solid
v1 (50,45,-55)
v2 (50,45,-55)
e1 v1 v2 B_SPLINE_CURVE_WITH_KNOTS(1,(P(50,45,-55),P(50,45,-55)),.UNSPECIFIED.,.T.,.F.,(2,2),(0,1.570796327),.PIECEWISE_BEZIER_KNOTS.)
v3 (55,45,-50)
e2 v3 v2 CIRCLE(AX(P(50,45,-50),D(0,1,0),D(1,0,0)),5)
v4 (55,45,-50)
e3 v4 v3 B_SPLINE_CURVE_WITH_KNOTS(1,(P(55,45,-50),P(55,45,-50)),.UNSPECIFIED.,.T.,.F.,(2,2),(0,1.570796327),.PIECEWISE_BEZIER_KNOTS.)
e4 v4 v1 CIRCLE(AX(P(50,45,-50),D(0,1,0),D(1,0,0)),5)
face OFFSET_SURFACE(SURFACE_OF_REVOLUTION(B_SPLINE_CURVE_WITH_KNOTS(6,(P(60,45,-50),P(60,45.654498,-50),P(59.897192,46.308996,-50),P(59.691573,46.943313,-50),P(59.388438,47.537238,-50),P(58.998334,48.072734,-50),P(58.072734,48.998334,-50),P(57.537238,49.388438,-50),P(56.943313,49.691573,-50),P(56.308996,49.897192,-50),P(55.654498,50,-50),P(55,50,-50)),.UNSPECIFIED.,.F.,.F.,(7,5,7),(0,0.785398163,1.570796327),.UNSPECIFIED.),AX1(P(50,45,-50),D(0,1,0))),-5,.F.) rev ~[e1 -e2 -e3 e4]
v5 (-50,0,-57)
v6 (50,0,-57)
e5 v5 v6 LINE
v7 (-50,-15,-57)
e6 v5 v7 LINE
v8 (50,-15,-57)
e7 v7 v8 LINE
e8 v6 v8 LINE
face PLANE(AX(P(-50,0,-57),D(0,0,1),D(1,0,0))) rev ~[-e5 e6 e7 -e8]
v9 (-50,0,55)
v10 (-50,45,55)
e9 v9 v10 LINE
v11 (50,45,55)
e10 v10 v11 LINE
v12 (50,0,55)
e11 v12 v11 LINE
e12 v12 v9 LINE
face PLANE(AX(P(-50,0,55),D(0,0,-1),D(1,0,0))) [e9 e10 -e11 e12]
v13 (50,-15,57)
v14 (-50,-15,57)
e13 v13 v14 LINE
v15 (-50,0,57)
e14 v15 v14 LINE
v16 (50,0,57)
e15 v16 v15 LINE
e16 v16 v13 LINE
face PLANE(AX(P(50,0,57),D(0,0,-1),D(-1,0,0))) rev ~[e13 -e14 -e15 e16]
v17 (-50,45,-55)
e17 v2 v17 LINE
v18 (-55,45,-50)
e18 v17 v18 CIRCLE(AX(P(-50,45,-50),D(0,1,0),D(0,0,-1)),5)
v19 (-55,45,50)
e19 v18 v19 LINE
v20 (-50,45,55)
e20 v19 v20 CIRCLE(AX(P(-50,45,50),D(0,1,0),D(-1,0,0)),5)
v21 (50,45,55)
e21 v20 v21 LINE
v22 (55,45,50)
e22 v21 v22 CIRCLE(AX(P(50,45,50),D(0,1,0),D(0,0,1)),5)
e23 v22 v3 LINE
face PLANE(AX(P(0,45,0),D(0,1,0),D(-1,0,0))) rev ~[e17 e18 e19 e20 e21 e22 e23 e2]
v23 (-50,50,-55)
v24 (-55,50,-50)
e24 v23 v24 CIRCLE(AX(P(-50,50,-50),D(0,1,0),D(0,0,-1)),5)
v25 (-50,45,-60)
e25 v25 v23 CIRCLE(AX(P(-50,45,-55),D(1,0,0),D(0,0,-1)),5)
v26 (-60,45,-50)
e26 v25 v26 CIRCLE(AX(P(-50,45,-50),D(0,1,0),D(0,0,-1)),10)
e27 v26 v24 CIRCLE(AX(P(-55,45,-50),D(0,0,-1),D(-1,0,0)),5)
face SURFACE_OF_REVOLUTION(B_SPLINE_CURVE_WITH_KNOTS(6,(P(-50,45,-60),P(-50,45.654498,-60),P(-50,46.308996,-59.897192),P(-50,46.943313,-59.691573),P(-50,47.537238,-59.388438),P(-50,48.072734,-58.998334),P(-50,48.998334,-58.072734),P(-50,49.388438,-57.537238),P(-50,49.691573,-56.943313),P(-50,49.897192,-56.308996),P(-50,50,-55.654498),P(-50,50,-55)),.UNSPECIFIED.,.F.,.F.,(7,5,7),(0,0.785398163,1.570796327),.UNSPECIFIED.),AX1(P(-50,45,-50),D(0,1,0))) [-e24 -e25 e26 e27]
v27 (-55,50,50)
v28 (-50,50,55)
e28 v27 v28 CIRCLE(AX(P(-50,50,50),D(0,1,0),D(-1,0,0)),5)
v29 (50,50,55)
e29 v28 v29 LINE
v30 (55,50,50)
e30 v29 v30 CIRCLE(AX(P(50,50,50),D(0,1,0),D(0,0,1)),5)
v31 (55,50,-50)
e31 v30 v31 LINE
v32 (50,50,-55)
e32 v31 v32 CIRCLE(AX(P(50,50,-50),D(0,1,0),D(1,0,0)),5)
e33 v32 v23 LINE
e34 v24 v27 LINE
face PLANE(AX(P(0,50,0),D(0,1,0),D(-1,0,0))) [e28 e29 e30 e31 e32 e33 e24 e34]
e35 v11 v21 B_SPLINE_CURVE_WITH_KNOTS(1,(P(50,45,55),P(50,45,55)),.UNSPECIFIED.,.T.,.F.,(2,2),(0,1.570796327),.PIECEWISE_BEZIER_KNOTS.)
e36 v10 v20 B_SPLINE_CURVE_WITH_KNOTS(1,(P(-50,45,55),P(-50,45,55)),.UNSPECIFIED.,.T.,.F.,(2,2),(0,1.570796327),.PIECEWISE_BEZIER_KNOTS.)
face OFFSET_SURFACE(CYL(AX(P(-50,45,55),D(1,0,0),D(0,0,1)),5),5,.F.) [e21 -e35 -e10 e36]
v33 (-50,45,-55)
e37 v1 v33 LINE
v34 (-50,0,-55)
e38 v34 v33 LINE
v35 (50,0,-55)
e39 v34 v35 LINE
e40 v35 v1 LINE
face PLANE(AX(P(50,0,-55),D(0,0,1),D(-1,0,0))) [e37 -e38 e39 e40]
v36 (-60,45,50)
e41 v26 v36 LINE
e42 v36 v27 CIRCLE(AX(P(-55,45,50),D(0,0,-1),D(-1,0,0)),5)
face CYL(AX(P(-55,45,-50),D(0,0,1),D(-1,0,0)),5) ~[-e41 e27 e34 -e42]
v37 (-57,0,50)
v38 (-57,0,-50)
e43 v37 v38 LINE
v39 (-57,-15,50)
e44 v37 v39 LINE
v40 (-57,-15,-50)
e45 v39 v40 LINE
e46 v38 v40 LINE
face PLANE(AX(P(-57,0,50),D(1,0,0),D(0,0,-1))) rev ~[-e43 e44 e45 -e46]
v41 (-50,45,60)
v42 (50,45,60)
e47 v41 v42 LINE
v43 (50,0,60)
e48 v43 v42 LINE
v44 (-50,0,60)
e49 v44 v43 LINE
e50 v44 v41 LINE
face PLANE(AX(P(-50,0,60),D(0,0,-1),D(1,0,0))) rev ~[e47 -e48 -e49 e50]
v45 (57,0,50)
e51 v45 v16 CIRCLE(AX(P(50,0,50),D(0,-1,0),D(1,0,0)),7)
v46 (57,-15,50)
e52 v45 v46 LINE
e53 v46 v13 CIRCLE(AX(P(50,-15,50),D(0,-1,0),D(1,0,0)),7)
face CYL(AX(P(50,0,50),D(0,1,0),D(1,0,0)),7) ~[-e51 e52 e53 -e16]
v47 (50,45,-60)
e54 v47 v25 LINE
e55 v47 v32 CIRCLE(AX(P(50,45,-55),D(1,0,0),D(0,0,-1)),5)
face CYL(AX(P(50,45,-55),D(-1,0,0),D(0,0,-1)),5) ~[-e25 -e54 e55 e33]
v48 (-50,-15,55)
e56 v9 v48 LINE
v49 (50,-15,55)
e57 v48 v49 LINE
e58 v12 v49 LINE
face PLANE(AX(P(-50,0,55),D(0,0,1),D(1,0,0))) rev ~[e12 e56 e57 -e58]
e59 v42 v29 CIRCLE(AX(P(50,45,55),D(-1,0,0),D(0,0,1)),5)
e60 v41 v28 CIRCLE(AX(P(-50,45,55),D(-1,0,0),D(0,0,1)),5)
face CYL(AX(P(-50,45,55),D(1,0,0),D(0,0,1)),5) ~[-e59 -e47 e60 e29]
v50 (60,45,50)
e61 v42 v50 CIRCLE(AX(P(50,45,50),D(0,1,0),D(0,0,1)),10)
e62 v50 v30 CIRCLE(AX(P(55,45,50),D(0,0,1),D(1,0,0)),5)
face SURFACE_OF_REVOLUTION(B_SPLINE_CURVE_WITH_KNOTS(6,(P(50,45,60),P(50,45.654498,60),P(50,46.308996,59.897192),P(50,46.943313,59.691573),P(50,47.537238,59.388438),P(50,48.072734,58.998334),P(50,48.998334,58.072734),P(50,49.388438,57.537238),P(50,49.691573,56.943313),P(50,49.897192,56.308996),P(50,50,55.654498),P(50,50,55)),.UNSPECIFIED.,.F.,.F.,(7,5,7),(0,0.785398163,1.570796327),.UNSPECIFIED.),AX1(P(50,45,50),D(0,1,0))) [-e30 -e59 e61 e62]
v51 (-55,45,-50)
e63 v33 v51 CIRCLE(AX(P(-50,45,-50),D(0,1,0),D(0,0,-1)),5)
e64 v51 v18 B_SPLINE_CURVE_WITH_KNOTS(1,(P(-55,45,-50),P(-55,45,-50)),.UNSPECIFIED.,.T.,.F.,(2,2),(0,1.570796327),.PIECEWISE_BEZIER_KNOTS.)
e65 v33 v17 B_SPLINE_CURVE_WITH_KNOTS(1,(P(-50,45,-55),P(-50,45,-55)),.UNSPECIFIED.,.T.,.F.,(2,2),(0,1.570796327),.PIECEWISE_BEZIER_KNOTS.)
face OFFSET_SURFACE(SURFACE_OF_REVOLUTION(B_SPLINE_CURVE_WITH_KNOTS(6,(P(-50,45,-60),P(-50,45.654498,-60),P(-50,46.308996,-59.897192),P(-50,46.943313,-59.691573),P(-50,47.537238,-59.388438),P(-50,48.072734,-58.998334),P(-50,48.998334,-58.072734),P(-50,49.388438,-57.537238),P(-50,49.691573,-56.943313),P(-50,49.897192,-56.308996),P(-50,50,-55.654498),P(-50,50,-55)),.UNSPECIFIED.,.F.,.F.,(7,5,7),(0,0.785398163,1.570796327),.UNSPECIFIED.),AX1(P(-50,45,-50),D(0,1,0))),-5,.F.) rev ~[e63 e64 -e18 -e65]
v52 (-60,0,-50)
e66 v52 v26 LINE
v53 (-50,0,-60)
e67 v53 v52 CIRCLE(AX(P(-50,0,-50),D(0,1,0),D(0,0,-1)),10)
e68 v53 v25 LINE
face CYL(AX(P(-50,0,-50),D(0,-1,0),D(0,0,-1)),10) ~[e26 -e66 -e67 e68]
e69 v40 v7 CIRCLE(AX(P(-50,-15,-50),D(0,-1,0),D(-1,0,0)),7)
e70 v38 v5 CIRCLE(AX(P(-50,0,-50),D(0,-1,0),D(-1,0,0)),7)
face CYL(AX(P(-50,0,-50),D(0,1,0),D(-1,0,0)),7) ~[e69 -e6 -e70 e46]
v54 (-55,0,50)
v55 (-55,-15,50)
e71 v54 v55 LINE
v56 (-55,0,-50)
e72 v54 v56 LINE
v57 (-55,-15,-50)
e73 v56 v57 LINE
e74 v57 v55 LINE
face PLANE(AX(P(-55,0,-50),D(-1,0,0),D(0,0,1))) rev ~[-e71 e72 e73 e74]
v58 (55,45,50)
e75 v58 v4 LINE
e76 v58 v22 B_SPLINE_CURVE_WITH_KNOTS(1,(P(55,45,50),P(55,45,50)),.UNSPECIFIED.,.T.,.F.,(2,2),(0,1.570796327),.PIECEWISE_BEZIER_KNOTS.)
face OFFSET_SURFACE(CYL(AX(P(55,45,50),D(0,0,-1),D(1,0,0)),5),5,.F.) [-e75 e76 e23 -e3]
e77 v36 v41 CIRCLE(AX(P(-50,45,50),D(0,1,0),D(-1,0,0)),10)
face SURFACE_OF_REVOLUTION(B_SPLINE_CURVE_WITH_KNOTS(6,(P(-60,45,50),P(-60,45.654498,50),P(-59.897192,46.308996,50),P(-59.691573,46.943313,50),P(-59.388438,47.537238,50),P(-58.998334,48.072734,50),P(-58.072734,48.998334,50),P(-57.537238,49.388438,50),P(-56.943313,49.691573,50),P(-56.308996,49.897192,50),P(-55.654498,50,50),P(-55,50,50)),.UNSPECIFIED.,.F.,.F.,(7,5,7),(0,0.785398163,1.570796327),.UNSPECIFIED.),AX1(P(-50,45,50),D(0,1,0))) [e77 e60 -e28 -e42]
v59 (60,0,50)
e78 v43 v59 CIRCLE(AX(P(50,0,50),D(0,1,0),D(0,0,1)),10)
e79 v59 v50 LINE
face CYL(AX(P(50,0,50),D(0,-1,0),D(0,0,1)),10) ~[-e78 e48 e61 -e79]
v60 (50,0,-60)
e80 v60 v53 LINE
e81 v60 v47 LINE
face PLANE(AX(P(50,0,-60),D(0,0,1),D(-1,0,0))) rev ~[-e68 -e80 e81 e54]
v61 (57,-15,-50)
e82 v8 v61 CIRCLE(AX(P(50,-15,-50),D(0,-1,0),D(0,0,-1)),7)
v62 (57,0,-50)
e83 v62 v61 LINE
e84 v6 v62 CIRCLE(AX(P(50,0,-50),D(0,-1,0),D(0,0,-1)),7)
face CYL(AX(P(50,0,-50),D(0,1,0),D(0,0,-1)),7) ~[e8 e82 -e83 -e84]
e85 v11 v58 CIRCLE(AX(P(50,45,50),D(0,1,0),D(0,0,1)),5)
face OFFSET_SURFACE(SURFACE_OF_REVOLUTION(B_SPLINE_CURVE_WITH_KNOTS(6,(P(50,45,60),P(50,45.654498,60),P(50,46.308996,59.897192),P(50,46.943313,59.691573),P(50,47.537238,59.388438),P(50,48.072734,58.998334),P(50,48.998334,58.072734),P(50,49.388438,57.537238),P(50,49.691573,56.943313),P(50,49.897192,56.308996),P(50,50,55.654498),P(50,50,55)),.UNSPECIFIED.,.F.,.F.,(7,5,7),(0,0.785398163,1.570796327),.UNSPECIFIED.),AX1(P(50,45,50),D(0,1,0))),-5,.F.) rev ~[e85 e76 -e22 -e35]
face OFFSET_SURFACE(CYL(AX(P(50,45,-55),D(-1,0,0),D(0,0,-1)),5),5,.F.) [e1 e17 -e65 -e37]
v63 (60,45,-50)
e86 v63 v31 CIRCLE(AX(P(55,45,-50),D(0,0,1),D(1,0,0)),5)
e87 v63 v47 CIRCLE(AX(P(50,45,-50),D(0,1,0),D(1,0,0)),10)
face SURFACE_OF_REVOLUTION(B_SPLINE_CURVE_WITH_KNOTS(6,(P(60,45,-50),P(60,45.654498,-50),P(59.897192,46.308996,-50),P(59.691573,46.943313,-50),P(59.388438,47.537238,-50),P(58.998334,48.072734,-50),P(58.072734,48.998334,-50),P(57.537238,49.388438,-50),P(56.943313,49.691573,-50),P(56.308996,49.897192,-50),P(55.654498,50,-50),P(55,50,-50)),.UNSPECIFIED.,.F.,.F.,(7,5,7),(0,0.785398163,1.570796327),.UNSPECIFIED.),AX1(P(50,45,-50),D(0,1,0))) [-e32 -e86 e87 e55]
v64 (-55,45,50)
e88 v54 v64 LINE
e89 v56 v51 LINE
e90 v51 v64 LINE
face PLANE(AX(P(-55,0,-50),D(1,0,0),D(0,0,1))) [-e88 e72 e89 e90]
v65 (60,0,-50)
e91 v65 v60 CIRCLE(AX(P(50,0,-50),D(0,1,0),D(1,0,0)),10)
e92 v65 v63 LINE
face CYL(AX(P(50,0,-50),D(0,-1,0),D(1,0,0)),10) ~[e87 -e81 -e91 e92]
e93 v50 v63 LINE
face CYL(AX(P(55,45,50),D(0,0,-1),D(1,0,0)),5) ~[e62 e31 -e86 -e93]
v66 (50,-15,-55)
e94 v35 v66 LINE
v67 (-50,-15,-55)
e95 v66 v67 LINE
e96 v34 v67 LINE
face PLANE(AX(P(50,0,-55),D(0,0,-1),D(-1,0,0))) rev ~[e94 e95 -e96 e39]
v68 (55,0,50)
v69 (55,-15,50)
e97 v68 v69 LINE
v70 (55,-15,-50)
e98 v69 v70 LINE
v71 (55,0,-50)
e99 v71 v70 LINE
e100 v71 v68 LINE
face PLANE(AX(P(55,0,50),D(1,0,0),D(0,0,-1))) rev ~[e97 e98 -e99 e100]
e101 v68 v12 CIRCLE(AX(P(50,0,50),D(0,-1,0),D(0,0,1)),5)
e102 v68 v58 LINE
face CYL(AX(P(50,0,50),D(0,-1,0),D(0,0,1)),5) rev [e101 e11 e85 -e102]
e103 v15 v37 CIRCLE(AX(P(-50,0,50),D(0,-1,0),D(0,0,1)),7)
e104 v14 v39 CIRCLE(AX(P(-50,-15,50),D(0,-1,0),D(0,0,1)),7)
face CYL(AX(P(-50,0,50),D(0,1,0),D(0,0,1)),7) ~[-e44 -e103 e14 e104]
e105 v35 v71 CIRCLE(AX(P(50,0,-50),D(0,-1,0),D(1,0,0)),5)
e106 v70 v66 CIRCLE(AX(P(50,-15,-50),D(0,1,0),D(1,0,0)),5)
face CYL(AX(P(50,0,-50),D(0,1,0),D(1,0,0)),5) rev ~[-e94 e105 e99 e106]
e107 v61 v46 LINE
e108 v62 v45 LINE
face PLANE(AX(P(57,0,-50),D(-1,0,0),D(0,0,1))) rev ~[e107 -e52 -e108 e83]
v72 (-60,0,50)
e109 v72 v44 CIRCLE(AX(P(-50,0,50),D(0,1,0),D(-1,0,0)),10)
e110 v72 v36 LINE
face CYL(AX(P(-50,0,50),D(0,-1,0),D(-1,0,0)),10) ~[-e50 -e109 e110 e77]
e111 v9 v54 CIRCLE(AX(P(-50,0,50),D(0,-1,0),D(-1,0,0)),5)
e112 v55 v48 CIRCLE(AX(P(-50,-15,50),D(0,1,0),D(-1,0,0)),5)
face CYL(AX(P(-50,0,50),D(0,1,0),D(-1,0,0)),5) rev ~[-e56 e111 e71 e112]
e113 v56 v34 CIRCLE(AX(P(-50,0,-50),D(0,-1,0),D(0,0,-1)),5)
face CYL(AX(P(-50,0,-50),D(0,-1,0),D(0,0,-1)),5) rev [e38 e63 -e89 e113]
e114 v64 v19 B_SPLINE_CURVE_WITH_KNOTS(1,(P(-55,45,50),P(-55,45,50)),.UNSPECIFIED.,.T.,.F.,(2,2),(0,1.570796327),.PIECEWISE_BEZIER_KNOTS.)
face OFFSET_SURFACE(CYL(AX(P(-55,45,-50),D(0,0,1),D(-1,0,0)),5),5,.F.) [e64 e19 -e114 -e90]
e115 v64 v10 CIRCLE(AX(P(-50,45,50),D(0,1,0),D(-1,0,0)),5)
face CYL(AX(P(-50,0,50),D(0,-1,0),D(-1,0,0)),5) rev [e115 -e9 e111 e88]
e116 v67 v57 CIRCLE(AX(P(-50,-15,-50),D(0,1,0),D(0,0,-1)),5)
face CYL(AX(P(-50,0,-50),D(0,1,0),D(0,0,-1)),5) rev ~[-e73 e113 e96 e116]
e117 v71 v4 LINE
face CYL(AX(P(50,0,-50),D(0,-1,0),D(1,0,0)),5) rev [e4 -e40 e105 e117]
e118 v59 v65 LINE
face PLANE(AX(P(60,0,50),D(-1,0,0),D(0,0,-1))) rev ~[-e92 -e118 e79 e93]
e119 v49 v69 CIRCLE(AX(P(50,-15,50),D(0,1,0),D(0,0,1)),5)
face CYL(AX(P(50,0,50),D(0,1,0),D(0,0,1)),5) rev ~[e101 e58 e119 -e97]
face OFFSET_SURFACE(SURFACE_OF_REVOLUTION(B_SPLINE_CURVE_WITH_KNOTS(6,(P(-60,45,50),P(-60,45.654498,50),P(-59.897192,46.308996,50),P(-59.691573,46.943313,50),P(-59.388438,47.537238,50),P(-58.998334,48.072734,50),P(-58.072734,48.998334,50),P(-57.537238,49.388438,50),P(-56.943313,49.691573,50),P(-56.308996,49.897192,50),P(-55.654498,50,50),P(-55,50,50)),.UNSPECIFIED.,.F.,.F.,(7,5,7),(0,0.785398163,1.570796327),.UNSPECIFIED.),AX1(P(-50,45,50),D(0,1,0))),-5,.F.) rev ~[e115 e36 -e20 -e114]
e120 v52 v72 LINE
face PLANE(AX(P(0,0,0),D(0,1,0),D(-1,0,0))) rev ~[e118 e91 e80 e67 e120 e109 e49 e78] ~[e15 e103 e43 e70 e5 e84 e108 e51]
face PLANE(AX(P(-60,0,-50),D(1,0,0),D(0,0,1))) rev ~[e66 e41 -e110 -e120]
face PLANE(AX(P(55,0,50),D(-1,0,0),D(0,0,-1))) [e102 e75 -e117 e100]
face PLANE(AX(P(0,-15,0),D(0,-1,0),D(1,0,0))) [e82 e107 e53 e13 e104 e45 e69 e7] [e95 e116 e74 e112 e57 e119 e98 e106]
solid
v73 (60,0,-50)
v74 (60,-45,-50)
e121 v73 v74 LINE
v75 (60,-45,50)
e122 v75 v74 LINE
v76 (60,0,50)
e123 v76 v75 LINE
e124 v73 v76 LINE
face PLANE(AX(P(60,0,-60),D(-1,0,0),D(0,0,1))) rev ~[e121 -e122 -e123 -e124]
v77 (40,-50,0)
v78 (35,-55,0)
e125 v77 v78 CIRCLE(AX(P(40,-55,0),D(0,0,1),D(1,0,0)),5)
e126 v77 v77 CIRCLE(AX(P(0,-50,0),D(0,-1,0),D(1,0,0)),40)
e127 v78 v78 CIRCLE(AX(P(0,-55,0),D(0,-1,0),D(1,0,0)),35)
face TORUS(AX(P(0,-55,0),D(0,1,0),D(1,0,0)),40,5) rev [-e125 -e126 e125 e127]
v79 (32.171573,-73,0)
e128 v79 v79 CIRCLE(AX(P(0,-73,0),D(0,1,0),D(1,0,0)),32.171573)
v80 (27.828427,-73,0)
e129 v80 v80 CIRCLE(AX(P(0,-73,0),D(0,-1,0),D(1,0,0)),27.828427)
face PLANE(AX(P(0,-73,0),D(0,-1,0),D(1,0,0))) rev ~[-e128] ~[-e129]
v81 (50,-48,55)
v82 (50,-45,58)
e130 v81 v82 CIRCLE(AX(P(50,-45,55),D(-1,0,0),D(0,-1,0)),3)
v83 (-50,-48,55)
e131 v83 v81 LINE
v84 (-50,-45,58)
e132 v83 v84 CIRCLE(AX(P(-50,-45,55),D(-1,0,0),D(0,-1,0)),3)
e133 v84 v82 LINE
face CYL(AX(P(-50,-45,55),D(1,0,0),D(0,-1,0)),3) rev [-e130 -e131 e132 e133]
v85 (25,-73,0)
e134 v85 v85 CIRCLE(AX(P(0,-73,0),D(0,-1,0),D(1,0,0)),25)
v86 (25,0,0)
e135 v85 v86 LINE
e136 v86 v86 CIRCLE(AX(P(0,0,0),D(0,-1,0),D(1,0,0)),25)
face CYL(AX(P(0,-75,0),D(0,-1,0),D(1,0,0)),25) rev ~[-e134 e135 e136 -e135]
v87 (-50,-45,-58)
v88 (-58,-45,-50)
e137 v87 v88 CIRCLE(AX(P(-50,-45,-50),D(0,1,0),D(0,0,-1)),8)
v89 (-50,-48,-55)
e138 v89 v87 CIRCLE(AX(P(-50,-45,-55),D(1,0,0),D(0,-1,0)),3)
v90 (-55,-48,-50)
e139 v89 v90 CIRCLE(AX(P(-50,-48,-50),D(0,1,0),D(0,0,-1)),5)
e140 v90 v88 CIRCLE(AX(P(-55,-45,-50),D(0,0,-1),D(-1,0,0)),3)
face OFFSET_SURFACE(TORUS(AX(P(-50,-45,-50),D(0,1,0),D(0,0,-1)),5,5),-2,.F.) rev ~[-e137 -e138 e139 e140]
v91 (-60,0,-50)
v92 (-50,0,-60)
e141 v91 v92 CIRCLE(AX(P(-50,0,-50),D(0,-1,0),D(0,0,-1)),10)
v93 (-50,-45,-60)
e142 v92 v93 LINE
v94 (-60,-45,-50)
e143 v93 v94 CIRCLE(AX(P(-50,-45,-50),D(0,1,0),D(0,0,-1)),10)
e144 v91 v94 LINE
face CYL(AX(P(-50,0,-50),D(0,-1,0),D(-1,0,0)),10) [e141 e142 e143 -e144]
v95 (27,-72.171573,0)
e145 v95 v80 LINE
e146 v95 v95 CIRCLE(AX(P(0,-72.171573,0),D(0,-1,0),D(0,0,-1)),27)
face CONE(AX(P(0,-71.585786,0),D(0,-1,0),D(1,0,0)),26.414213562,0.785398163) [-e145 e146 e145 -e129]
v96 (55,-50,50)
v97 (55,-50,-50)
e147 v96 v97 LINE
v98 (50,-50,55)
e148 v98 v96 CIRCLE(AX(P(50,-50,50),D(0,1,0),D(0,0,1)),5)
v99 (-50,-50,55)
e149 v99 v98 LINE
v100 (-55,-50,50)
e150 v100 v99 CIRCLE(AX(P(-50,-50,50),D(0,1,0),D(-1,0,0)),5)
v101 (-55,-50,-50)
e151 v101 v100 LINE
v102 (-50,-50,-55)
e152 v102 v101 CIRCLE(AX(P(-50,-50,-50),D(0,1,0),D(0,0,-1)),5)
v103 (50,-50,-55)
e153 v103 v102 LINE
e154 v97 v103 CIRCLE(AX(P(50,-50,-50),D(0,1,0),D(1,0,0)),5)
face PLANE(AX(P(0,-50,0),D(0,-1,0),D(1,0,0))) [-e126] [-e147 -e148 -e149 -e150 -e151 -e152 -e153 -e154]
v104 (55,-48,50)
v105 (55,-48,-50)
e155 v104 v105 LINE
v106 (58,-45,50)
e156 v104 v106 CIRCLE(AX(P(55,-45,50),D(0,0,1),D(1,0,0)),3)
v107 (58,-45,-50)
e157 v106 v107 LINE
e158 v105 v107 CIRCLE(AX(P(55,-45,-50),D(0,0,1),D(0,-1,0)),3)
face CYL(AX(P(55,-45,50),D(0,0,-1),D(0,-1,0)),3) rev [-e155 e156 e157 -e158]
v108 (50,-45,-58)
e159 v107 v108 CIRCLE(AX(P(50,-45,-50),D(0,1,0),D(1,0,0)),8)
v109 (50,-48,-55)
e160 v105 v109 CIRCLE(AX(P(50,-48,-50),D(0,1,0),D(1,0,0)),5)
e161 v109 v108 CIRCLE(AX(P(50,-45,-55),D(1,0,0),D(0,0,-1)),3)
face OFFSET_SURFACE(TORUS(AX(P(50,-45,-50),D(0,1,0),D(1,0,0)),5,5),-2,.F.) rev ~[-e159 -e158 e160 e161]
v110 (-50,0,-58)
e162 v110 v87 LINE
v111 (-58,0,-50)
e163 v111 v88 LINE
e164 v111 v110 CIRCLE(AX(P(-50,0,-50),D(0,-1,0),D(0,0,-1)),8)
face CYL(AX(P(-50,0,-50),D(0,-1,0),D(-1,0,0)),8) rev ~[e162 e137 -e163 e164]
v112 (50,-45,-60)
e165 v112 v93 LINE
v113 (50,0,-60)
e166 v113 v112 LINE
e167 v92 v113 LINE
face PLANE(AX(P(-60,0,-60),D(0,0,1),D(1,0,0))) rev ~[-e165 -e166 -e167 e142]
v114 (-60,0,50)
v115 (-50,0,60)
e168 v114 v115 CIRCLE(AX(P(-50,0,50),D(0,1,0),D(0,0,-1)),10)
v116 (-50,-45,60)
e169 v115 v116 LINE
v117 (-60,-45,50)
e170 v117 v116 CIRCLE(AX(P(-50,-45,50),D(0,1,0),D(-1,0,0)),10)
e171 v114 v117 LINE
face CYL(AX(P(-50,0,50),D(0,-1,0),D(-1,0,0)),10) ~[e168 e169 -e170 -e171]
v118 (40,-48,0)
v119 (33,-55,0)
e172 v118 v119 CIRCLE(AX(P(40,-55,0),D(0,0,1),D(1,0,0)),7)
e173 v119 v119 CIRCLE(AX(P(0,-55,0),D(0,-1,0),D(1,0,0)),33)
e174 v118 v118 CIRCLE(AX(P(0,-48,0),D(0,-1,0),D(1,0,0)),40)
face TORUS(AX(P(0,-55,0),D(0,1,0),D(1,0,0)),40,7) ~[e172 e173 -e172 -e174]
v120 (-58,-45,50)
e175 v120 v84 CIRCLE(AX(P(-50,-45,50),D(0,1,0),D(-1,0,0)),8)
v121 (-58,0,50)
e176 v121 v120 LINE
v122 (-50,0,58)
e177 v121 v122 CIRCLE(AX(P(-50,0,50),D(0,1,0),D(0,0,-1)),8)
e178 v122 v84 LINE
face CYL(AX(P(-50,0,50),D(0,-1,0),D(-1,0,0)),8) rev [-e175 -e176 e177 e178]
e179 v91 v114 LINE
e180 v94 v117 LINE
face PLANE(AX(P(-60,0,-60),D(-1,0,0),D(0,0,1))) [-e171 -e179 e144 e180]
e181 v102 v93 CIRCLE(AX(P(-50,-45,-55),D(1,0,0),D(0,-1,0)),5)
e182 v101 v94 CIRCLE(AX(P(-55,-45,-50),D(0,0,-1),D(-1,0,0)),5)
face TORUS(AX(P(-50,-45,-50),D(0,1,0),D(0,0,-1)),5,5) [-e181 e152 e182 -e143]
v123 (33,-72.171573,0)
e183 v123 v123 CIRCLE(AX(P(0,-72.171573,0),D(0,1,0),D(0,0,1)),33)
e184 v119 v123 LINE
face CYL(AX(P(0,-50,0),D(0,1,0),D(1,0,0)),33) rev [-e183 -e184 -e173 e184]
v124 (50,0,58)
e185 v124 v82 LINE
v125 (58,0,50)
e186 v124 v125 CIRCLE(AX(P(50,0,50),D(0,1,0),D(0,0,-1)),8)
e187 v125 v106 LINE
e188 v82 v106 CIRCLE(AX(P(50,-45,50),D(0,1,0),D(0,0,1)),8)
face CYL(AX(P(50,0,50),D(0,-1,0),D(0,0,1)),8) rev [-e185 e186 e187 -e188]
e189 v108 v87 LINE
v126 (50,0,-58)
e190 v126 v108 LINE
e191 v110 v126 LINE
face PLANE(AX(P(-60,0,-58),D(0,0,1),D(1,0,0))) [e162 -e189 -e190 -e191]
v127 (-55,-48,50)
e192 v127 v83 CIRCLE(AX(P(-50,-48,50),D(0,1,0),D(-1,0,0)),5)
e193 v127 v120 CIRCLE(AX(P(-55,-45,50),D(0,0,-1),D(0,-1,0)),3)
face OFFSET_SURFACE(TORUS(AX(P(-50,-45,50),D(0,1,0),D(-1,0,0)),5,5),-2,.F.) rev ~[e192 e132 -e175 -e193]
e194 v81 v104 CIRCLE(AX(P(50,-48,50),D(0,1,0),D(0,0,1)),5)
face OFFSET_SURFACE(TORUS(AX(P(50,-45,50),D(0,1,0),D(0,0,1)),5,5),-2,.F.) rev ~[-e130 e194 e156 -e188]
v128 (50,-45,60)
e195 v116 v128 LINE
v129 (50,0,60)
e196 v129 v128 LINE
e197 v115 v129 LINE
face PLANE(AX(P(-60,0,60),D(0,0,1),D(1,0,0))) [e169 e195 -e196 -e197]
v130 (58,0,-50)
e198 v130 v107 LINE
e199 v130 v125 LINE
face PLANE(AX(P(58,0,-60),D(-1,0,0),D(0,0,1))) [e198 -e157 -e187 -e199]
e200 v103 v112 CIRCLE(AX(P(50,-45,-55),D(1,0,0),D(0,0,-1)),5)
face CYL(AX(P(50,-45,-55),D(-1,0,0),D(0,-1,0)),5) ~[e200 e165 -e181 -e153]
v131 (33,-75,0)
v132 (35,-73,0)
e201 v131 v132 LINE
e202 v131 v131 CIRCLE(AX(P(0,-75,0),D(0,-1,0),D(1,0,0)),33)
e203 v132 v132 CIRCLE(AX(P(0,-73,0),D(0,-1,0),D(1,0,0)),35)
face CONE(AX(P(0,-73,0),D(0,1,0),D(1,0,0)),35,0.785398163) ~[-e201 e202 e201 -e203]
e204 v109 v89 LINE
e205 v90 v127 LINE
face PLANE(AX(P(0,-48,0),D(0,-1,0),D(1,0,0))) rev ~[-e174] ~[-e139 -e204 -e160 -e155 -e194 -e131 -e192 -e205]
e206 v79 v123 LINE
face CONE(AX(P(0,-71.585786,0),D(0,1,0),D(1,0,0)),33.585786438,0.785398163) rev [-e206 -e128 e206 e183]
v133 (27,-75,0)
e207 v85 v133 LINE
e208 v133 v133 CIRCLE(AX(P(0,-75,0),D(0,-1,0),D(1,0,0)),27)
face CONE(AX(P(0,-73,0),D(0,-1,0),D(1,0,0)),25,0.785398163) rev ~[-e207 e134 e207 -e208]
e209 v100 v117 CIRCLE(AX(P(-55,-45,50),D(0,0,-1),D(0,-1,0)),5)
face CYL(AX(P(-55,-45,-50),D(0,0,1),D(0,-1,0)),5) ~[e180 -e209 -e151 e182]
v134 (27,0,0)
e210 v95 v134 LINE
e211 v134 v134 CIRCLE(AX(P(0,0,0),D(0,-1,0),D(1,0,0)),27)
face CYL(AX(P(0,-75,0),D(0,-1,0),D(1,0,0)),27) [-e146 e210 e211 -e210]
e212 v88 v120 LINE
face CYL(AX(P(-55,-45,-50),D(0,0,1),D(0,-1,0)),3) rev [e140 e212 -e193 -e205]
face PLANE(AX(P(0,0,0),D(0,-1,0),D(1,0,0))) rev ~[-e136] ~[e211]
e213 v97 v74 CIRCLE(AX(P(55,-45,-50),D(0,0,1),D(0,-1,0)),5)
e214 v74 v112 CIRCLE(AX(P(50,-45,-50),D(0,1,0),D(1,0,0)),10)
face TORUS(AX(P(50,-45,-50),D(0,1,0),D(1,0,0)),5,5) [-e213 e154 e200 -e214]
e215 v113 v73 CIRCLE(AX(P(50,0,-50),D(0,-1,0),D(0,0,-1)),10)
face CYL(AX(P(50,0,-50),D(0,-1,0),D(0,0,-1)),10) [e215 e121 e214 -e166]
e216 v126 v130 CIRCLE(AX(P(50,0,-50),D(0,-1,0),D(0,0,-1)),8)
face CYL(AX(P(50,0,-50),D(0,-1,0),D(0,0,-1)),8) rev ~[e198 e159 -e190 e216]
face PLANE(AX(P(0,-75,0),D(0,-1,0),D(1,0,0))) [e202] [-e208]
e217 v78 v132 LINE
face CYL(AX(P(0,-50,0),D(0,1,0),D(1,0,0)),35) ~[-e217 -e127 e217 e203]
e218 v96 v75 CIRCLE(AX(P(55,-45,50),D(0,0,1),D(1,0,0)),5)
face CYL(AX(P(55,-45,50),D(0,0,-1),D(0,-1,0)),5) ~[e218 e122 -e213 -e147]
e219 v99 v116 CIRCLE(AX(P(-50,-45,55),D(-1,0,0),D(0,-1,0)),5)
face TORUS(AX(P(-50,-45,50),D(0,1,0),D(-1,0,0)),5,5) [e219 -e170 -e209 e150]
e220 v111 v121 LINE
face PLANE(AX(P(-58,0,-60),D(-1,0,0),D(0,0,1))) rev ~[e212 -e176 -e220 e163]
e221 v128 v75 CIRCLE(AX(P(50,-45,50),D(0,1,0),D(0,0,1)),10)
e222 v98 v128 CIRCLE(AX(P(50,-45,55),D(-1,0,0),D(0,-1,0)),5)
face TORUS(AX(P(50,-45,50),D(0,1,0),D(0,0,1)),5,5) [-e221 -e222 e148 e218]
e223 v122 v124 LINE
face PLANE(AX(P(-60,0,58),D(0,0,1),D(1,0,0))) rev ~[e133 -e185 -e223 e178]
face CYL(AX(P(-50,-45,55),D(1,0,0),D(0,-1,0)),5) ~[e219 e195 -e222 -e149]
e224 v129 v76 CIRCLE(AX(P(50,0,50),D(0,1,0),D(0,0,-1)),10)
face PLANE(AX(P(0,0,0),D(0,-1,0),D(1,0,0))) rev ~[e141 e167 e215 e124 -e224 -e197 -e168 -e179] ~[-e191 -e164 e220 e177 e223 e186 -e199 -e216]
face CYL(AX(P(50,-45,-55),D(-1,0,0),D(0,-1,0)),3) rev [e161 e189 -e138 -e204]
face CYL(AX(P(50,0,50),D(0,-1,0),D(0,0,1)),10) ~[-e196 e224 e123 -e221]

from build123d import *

# Parameters (mm, degrees)
F0_W      = 120
F0_H      = 120
F1_DEPTH  = 50
F2_R      = 35
F3_DEPTH  = 25
F4_R      = 25
F5_DEPTH  = 75.001
F6_R      = 10
F7_R      = 5
F8_SIZE   = 2
F9_T      = -2
F11_DEPTH = 50
F12_R     = 5
F13_T     = -5
F15_DEPTH = 15


with BuildPart() as f1:
    # F0 (on Front) → F1 (new body)
    with BuildSketch(Plane.XZ):
        Rectangle(F0_W, F0_H)
    extrude(amount=F1_DEPTH)

    # F2 (on face) → F3 (join)
    with BuildSketch(Plane.XZ.offset(50)):
        Circle(F2_R)
    extrude(amount=F3_DEPTH)

    # F4 (on face) → F5 (cut, through all)
    with BuildSketch(Plane.XZ.offset(75)):
        Circle(F4_R)
    extrude(amount=-F5_DEPTH, mode=Mode.SUBTRACT)

    # F6
    f6_edges = [f1.edges().sort_by_distance(p)[0] for p in [
        (60, -25, 60),
        (-60, -25, 60),
        (60, -25, -60),
        (-60, -25, -60),
    ]]
    fillet(f6_edges, radius=F6_R)

    # F7
    f7_edges = [f1.edges().sort_by_distance(p)[0] for p in [
        (-35, -50, 0),
        (0, -50, 60),
    ]]
    fillet(f7_edges, radius=F7_R)

    # F8
    f8_edges = [f1.edges().sort_by_distance(p)[0] for p in [
        (-35, -75, 0),
        (-25, -75, 0),
    ]]
    chamfer(f8_edges, length=F8_SIZE)

    # F9
    f9_openings = [f1.faces().sort_by_distance(p)[0] for p in [
        (58.302944, 0, 0),
    ]]
    offset(amount=F9_T, openings=f9_openings)


with BuildPart() as f11:
    # F10 (on face) → F11 (new body)
    with BuildSketch(Plane(origin=(0, 0, 0), x_dir=(-1, 0, 0), z_dir=(0, 1, 0))):
        with BuildLine():
            Line((50, 60), (-50, 60))
            ThreePointArc((-50, 60), (-57.0710678119, 57.0710678119), (-60, 50))
            Line((-60, 50), (-60, -50))
            ThreePointArc((-60, -50), (-57.0710678119, -57.0710678119), (-50, -60))
            Line((-50, -60), (50, -60))
            ThreePointArc((50, -60), (57.0710678119, -57.0710678119), (60, -50))
            Line((60, -50), (60, 50))
            ThreePointArc((60, 50), (57.0710678119, 57.0710678119), (50, 60))
        make_face()
    extrude(amount=F11_DEPTH)

    # F12
    f12_edges = [f11.edges().sort_by_distance(p)[0] for p in [
        (60, 50, 0),
    ]]
    fillet(f12_edges, radius=F12_R)

    # F13
    f13_openings = [f11.faces().sort_by_distance(p)[0] for p in [
        (0, 0, 0),
    ]]
    offset(amount=F13_T, openings=f13_openings, kind=Kind.INTERSECTION)

    # F14 (on face) → F15 (join)
    with BuildSketch(Plane.XZ):
        with BuildLine():
            ThreePointArc((-50, 57), (-54.9497474683, 54.9497474683), (-57, 50))
            Line((-57, 50), (-57, -50))
            ThreePointArc((-57, -50), (-54.9497474683, -54.9497474683), (-50, -57))
            Line((-50, -57), (50, -57))
            ThreePointArc((50, -57), (54.9497474683, -54.9497474683), (57, -50))
            Line((57, -50), (57, 50))
            ThreePointArc((57, 50), (54.9497474683, 54.9497474683), (50, 57))
            Line((50, 57), (-50, 57))
        make_face()
        with BuildLine():
            ThreePointArc((55, -50), (53.5355339059, -53.5355339059), (50, -55))
            Line((50, -55), (-50, -55))
            ThreePointArc((-50, -55), (-53.5355339059, -53.5355339059), (-55, -50))
            Line((-55, -50), (-55, 50))
            ThreePointArc((-55, 50), (-53.5355339059, 53.5355339059), (-50, 55))
            Line((-50, 55), (50, 55))
            ThreePointArc((50, 55), (53.5355339059, 53.5355339059), (55, 50))
            Line((55, 50), (55, -50))
        make_face(mode=Mode.SUBTRACT)
    extrude(amount=F15_DEPTH)


solid = Compound([f1.part, f11.part])
